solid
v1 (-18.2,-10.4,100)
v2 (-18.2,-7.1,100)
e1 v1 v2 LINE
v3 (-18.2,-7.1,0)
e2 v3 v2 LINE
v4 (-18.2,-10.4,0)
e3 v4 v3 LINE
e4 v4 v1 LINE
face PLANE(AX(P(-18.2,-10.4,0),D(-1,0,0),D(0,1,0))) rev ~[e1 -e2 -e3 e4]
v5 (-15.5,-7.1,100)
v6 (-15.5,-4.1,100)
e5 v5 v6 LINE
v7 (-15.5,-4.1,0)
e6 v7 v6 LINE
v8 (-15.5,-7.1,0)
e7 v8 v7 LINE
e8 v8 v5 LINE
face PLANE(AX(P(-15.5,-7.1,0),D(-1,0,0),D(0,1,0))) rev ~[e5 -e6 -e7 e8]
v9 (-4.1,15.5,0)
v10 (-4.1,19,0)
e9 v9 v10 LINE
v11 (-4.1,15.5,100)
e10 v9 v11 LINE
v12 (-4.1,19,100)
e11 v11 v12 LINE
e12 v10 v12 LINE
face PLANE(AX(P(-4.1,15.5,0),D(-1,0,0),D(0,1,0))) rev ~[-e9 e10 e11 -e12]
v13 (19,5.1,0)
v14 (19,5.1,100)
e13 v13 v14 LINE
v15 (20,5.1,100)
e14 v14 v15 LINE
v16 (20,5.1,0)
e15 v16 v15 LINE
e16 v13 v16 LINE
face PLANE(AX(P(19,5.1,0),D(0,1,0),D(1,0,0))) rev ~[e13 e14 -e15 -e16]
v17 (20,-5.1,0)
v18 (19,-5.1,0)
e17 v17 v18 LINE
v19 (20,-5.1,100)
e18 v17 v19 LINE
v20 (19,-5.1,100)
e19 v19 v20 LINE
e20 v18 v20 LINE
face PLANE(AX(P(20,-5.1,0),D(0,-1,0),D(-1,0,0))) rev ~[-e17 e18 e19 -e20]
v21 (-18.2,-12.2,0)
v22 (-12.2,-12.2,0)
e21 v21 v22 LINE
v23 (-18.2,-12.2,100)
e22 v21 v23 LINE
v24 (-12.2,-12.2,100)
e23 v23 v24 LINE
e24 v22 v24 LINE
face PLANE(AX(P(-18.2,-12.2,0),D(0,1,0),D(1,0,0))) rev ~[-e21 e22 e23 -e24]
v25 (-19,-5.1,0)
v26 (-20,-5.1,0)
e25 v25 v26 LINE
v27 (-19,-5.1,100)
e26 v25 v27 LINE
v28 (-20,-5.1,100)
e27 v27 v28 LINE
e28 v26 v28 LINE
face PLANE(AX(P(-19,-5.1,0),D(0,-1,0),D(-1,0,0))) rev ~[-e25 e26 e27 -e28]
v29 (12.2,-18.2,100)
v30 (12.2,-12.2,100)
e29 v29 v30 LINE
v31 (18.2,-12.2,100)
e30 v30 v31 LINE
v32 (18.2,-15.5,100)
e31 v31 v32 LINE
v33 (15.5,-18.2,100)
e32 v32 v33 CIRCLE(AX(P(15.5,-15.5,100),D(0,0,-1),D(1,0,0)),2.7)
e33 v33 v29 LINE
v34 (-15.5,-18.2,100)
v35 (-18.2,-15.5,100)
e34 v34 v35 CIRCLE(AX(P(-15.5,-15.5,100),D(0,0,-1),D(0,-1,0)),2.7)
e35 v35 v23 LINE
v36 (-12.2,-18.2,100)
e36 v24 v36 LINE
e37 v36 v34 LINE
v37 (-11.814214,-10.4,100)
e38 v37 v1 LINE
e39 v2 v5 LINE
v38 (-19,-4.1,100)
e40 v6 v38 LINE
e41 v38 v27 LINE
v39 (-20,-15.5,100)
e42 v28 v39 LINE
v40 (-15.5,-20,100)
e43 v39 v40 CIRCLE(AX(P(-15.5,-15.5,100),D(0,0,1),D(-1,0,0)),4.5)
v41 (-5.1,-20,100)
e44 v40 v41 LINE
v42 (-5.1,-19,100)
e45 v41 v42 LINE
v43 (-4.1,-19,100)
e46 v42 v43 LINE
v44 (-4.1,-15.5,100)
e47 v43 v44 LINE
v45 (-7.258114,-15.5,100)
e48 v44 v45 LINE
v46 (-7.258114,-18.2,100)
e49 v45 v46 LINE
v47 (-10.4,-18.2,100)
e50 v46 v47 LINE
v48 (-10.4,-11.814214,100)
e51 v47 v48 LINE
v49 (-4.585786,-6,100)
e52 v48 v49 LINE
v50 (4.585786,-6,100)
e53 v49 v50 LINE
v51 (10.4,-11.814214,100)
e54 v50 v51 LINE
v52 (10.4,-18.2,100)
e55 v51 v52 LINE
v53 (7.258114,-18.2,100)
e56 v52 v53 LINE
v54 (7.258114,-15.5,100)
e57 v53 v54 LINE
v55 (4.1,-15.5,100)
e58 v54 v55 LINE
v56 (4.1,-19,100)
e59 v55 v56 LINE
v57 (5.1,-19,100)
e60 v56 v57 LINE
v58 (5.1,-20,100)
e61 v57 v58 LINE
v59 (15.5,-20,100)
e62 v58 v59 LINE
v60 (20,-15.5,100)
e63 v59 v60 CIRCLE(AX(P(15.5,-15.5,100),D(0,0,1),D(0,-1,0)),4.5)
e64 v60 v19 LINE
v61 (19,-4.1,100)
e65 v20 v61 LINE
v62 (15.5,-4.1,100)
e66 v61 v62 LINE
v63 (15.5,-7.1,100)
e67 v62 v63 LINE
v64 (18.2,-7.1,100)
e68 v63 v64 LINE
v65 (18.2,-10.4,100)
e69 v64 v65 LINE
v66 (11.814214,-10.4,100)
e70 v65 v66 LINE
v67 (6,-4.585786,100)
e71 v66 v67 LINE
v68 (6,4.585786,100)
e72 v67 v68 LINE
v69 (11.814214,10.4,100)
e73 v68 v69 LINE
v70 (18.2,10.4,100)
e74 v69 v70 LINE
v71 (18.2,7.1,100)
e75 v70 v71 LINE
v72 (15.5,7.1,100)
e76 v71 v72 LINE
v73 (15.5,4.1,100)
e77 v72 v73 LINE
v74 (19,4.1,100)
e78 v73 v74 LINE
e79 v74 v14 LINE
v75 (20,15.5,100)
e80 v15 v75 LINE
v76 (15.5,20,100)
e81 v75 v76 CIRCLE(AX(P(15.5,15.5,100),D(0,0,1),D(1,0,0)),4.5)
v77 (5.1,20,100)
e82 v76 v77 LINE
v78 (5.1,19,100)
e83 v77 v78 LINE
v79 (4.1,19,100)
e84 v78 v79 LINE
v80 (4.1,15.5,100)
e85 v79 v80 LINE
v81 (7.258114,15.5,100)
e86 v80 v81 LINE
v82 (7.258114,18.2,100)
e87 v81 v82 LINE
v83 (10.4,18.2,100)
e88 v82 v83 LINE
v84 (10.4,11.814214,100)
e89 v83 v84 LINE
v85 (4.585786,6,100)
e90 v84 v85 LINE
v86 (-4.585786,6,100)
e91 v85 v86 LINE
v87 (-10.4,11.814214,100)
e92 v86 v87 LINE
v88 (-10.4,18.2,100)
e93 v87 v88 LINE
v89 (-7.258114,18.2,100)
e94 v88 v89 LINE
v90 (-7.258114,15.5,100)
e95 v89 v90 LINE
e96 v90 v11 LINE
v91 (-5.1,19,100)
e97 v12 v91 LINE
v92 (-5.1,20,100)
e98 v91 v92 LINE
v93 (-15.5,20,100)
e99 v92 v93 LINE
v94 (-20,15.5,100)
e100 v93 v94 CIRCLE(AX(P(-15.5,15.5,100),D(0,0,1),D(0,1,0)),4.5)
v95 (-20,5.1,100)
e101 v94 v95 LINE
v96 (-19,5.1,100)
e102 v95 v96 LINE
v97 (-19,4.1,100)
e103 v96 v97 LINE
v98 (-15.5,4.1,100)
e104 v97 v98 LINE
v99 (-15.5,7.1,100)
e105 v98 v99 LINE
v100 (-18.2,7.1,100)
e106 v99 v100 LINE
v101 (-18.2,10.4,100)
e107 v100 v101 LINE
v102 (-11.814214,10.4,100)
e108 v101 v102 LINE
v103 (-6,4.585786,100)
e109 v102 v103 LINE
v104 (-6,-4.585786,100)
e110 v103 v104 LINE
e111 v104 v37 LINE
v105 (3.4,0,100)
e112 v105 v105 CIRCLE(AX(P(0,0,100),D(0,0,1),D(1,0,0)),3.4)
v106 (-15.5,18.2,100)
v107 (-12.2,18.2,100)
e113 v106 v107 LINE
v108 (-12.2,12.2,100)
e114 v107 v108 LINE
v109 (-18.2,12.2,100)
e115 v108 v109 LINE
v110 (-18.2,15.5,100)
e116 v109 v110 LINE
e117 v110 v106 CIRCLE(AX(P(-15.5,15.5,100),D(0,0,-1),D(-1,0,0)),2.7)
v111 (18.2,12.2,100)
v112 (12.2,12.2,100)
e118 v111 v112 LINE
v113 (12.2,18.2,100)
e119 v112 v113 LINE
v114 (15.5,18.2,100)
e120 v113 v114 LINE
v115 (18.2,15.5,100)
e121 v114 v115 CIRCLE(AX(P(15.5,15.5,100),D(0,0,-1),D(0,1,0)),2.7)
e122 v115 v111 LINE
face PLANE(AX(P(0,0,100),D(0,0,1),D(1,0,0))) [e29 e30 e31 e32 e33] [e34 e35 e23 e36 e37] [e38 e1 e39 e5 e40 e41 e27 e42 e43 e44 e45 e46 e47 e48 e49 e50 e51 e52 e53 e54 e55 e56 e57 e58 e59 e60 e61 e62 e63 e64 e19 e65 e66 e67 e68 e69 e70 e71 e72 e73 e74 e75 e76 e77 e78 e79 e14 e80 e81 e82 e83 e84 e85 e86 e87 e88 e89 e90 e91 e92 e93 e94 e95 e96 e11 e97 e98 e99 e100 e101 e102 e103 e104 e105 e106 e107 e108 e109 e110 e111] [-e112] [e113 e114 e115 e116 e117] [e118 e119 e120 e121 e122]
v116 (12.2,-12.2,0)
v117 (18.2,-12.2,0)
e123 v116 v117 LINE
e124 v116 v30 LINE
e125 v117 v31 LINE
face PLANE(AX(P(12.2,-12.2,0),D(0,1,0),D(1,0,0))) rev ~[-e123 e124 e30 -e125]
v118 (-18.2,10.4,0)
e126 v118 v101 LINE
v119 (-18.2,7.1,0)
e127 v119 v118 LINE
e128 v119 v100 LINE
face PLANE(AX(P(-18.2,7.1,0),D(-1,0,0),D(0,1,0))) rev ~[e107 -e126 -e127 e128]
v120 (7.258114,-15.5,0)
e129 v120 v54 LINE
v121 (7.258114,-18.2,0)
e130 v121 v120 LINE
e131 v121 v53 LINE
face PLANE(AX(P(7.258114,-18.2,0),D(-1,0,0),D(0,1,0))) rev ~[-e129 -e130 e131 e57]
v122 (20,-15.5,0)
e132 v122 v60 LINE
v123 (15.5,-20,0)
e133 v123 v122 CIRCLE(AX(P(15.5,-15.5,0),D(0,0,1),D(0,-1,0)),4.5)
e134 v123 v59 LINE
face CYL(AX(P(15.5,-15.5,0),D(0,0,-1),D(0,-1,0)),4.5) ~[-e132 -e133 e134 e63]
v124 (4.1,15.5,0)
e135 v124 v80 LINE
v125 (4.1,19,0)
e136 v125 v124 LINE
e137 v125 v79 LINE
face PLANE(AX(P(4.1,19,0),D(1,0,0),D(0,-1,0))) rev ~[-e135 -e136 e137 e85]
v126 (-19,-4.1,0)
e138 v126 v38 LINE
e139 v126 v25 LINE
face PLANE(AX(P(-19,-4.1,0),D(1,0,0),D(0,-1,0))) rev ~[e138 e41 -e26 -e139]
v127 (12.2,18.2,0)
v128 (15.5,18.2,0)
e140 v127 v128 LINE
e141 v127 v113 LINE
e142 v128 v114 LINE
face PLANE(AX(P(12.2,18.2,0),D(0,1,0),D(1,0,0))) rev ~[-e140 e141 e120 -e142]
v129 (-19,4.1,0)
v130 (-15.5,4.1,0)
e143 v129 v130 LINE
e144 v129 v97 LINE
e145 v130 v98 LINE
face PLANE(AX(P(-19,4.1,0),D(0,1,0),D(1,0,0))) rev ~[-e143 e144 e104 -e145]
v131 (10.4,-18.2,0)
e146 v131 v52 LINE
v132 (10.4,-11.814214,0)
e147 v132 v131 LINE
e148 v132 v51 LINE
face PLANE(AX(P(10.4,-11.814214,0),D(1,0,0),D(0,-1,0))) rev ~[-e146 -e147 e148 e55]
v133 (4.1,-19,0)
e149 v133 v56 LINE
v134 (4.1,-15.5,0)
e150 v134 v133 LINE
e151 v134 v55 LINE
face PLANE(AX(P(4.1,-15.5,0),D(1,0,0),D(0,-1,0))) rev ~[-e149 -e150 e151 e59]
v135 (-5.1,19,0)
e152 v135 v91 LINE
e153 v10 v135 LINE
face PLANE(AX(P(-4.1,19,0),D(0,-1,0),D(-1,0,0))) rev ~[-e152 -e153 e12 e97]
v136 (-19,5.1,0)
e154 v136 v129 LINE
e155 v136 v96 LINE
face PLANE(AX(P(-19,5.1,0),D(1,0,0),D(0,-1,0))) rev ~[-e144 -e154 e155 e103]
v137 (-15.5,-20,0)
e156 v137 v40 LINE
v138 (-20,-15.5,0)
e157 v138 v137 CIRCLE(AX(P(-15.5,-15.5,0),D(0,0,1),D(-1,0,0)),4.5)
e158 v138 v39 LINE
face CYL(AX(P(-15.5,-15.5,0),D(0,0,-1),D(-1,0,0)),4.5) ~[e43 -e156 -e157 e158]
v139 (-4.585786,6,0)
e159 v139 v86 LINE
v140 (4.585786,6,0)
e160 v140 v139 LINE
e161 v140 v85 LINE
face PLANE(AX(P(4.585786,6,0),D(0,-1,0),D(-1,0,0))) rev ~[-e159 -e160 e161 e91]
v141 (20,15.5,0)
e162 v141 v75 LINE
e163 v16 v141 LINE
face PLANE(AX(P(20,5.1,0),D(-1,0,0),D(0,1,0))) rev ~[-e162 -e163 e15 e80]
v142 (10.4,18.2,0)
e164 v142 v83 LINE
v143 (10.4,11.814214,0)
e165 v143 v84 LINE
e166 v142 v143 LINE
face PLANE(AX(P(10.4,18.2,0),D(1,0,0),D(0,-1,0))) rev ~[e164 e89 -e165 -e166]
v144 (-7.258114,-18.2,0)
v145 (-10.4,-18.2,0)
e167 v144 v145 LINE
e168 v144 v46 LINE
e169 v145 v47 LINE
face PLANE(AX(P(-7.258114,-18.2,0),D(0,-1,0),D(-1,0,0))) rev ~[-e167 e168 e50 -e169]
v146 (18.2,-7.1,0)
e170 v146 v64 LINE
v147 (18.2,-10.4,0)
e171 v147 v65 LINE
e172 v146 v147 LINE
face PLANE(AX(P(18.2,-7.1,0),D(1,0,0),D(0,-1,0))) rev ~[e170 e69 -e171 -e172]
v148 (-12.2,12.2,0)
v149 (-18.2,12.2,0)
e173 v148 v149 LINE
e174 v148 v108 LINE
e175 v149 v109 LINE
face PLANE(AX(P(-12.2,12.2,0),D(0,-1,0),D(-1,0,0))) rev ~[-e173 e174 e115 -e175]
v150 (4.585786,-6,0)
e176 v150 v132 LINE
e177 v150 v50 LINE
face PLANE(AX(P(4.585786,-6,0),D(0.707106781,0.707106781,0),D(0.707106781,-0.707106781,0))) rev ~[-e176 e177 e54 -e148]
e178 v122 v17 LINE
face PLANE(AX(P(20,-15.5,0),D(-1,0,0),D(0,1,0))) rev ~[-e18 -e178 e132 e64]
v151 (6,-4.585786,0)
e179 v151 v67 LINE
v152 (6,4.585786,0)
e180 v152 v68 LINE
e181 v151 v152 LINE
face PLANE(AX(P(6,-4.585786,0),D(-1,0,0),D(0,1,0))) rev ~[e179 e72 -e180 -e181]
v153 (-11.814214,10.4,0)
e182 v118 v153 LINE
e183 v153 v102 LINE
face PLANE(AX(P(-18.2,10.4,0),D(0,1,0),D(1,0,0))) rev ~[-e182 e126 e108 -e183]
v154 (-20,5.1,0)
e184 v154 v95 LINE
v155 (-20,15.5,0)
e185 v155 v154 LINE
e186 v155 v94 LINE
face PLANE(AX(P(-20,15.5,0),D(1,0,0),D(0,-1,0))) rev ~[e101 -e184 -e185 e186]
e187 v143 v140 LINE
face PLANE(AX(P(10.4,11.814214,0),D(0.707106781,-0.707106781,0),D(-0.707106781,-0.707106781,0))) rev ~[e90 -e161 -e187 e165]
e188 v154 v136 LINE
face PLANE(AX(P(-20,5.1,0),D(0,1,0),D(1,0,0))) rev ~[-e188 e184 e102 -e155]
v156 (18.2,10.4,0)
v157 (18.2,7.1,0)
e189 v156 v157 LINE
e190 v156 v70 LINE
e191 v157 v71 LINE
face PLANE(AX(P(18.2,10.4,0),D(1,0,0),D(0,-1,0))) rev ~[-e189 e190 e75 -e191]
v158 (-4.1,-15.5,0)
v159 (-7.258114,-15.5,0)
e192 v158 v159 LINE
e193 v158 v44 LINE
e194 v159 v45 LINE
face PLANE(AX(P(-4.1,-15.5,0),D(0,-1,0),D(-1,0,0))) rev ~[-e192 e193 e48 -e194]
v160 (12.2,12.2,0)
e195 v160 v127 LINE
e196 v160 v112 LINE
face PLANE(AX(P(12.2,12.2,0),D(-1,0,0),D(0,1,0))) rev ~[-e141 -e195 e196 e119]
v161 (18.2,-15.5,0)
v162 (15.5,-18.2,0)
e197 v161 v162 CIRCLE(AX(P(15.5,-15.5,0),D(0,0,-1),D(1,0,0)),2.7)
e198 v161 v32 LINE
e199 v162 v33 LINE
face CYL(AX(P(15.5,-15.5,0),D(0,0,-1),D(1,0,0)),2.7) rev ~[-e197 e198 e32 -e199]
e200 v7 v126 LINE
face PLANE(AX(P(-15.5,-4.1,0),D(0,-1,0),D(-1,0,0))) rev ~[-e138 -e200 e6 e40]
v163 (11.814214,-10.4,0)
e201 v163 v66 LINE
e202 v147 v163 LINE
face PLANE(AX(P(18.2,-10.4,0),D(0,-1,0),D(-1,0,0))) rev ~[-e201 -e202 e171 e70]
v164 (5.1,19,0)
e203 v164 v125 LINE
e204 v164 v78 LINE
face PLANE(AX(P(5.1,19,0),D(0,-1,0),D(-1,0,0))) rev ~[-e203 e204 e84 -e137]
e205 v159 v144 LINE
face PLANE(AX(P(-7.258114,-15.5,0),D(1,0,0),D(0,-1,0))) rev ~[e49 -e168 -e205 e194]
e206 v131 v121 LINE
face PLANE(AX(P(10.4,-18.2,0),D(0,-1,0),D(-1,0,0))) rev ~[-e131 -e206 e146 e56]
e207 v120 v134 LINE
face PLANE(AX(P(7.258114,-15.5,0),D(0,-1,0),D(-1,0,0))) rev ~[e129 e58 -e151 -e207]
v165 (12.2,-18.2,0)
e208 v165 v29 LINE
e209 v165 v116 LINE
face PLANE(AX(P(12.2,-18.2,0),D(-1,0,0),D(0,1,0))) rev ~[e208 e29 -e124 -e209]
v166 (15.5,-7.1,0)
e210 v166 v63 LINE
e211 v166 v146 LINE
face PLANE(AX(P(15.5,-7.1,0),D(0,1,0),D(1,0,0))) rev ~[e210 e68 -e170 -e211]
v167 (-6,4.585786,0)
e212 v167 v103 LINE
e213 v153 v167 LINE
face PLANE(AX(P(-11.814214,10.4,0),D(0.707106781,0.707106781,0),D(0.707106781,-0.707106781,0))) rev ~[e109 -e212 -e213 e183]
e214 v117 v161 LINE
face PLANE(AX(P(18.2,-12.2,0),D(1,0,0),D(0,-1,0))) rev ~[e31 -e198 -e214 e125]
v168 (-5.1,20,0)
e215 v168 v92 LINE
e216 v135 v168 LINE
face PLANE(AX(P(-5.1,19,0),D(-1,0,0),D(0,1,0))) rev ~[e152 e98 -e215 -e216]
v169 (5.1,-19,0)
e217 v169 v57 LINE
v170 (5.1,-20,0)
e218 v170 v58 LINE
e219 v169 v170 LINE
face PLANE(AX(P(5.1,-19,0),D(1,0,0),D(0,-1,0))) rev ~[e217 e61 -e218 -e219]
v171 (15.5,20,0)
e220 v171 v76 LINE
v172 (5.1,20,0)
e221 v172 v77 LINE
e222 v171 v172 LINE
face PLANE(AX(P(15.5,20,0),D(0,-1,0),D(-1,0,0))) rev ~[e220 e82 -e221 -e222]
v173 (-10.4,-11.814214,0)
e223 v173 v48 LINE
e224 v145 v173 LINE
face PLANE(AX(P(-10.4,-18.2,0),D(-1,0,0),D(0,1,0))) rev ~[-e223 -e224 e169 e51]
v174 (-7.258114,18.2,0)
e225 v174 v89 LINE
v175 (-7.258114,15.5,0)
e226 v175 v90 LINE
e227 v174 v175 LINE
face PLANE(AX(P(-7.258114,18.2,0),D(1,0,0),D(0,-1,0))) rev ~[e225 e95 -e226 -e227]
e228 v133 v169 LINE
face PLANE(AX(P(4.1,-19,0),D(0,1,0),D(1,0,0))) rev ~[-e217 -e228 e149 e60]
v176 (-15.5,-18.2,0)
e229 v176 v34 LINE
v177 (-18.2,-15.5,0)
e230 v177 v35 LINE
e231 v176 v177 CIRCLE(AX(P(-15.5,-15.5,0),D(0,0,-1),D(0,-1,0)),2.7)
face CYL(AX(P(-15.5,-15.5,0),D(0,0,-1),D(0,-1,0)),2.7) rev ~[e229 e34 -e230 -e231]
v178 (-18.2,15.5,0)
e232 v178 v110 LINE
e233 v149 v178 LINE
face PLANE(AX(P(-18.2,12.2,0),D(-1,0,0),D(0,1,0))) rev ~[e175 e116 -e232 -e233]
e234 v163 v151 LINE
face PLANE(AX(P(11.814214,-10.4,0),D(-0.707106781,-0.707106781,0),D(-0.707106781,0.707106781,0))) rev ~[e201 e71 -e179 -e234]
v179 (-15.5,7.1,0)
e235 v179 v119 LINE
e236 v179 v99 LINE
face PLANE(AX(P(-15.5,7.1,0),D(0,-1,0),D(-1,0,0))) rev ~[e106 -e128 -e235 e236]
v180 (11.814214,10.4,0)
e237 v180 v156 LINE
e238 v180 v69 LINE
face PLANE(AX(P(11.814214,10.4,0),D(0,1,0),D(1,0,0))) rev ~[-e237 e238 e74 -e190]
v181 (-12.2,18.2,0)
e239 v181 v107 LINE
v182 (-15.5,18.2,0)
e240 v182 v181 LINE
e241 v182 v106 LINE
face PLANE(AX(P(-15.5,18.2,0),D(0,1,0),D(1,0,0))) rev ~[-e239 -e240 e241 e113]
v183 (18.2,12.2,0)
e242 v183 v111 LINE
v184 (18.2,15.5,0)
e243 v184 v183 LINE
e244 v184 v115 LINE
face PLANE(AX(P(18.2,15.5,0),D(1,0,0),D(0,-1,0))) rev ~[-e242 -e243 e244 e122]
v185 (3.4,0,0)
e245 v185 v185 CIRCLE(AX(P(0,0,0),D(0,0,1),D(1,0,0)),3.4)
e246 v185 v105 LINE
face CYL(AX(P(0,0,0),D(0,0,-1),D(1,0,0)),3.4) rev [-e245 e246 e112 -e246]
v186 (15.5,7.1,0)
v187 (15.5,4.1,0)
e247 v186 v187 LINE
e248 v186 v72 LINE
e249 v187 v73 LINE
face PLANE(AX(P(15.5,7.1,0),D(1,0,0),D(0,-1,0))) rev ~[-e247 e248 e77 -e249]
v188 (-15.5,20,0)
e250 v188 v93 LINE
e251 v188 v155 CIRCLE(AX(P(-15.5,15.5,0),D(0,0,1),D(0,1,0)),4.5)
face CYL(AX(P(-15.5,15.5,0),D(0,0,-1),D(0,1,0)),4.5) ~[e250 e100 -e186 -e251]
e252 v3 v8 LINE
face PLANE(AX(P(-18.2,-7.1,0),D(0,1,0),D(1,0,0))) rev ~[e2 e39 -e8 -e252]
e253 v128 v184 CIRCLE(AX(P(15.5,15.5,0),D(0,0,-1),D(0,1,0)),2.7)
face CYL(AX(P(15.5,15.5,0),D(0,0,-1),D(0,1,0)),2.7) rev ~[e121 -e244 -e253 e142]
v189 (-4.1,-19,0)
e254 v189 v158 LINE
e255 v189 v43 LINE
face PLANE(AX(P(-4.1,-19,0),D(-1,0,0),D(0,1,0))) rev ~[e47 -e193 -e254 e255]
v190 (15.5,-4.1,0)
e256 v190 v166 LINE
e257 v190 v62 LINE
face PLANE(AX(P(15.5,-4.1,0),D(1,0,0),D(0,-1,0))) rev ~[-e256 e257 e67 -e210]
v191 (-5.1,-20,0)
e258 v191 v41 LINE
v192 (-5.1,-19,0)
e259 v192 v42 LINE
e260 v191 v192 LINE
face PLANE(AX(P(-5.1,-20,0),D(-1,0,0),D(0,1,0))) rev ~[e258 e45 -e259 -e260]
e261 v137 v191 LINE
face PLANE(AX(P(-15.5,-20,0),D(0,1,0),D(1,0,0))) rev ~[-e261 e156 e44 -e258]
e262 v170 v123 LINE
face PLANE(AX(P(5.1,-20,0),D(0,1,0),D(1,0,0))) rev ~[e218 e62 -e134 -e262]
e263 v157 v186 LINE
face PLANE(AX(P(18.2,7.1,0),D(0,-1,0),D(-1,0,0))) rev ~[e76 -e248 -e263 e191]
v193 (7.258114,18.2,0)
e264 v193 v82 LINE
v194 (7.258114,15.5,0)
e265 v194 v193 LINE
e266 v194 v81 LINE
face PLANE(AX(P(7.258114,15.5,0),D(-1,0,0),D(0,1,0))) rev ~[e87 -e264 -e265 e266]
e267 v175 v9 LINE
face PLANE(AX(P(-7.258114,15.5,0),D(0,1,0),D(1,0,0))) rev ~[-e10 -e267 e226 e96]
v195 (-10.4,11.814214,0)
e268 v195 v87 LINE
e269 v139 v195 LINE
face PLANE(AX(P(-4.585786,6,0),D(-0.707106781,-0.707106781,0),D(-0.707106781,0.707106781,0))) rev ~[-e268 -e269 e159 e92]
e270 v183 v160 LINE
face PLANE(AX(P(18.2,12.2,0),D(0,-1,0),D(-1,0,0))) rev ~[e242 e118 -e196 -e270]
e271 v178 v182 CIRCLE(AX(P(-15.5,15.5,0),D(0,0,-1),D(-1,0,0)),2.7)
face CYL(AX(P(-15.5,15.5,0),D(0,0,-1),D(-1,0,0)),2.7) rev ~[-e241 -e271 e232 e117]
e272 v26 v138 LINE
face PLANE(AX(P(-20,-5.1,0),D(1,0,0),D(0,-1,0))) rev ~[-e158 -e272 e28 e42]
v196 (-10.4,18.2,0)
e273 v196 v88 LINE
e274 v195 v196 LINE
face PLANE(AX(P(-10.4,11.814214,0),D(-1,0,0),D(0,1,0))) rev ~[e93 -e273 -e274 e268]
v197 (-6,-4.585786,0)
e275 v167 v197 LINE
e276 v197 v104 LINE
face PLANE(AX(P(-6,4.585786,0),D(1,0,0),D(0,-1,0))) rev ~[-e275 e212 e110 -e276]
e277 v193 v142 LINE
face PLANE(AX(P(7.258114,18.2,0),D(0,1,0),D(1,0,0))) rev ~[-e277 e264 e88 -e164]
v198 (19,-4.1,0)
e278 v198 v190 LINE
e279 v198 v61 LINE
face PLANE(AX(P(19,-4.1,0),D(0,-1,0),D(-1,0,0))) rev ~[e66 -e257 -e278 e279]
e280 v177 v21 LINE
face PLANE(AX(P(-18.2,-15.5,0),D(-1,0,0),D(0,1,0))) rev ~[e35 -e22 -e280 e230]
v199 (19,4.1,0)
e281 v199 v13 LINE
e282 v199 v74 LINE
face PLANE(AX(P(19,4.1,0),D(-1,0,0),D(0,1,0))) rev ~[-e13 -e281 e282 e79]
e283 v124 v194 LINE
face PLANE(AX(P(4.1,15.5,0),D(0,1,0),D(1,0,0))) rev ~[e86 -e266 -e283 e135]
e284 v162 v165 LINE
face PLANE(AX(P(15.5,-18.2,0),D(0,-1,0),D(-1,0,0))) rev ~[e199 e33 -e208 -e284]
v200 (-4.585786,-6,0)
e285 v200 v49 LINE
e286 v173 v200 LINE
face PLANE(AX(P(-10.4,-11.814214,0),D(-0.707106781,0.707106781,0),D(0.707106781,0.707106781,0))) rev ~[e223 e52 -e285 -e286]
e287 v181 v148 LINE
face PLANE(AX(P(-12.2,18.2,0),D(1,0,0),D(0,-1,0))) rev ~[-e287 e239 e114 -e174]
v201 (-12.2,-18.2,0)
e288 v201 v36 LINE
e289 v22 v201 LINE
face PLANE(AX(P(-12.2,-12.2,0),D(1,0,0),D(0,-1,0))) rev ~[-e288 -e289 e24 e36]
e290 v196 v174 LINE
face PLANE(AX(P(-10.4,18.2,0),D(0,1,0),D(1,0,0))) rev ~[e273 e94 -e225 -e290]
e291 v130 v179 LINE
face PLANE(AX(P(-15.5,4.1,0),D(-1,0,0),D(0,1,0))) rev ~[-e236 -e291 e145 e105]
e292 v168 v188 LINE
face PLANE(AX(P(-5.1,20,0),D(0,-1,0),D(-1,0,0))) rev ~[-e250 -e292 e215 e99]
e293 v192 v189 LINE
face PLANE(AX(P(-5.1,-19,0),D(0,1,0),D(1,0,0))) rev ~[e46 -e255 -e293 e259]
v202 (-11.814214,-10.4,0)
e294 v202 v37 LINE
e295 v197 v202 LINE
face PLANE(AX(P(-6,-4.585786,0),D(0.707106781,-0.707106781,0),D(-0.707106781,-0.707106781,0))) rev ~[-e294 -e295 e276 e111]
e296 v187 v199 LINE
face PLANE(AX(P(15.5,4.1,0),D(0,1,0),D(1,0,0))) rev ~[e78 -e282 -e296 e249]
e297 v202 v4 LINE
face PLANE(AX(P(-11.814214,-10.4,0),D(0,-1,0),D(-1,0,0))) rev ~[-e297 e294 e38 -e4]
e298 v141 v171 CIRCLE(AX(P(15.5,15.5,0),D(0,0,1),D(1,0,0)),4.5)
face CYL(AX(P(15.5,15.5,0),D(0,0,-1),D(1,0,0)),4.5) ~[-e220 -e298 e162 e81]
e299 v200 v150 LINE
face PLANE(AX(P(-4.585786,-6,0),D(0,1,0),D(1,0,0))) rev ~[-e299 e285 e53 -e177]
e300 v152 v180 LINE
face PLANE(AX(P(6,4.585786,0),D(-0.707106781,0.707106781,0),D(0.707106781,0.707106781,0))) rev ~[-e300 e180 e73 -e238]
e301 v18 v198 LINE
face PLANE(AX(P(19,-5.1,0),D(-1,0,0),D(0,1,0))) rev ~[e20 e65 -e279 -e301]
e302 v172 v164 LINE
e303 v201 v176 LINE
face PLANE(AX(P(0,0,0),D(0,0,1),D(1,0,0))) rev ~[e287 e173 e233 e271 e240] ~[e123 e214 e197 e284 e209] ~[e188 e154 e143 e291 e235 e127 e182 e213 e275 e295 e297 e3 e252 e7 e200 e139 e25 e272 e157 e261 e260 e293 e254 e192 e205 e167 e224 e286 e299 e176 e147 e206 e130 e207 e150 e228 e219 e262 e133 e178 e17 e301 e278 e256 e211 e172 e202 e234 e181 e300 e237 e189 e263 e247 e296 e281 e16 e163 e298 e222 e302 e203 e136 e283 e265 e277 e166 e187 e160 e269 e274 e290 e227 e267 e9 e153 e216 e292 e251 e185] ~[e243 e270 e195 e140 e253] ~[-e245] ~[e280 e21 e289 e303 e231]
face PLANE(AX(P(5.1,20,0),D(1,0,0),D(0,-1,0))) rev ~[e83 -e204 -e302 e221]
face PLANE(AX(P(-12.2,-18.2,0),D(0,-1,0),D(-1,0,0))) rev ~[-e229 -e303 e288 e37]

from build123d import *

# Parameters (mm, degrees)
SKETCH3_R           = 3.4
BOSS_EXTRUDE1_DEPTH = 100


with BuildPart() as part:
    # Sketch3 → Boss-Extrude1 (new body)
    with BuildSketch(Plane.XY):
        with BuildLine():
            Line((-11.814213562, 10.4), (-6, 4.585786438))
            Line((-6, 4.585786438), (-6, -4.585786438))
            Line((-6, -4.585786438), (-11.814213562, -10.4))
            Line((-11.814213562, -10.4), (-18.2, -10.4))
            Line((-18.2, -10.4), (-18.2, -7.1))
            Line((-18.2, -7.1), (-15.5, -7.1))
            Line((-15.5, -7.1), (-15.5, -4.1))
            Line((-15.5, -4.1), (-19, -4.1))
            Line((-19, -4.1), (-19, -5.1))
            Line((-19, -5.1), (-20, -5.1))
            Line((-20, -5.1), (-20, -15.5))
            ThreePointArc((-20, -15.5), (-18.681980515, -18.681980515), (-15.5, -20))
            Line((-15.5, -20), (-5.1, -20))
            Line((-5.1, -20), (-5.1, -19))
            Line((-5.1, -19), (-4.1, -19))
            Line((-4.1, -19), (-4.1, -15.5))
            Line((-4.1, -15.5), (-7.258114106, -15.5))
            Line((-7.258114106, -15.5), (-7.258114106, -18.2))
            Line((-7.258114106, -18.2), (-10.4, -18.2))
            Line((-10.4, -18.2), (-10.4, -11.814213562))
            Line((-10.4, -11.814213562), (-4.585786438, -6))
            Line((-4.585786438, -6), (4.585786438, -6))
            Line((4.585786438, -6), (10.4, -11.814213562))
            Line((10.4, -11.814213562), (10.4, -18.2))
            Line((10.4, -18.2), (7.258114106, -18.2))
            Line((7.258114106, -18.2), (7.258114106, -15.5))
            Line((7.258114106, -15.5), (4.1, -15.5))
            Line((4.1, -15.5), (4.1, -19))
            Line((4.1, -19), (5.1, -19))
            Line((5.1, -19), (5.1, -20))
            Line((5.1, -20), (15.5, -20))
            ThreePointArc((15.5, -20), (18.681980515, -18.681980515), (20, -15.5))
            Line((20, -15.5), (20, -5.1))
            Line((20, -5.1), (19, -5.1))
            Line((19, -5.1), (19, -4.1))
            Line((19, -4.1), (15.5, -4.1))
            Line((15.5, -4.1), (15.5, -7.1))
            Line((15.5, -7.1), (18.2, -7.1))
            Line((18.2, -7.1), (18.2, -10.4))
            Line((18.2, -10.4), (11.814213562, -10.4))
            Line((11.814213562, -10.4), (6, -4.585786438))
            Line((6, -4.585786438), (6, 4.585786438))
            Line((6, 4.585786438), (11.814213562, 10.4))
            Line((11.814213562, 10.4), (18.2, 10.4))
            Line((18.2, 10.4), (18.2, 7.1))
            Line((18.2, 7.1), (15.5, 7.1))
            Line((15.5, 7.1), (15.5, 4.1))
            Line((15.5, 4.1), (19, 4.1))
            Line((19, 4.1), (19, 5.1))
            Line((19, 5.1), (20, 5.1))
            Line((20, 5.1), (20, 15.5))
            ThreePointArc((20, 15.5), (18.681980515, 18.681980515), (15.5, 20))
            Line((15.5, 20), (5.1, 20))
            Line((5.1, 20), (5.1, 19))
            Line((5.1, 19), (4.1, 19))
            Line((4.1, 19), (4.1, 15.5))
            Line((4.1, 15.5), (7.258114106, 15.5))
            Line((7.258114106, 15.5), (7.258114106, 18.2))
            Line((7.258114106, 18.2), (10.4, 18.2))
            Line((10.4, 18.2), (10.4, 11.814213562))
            Line((10.4, 11.814213562), (4.585786438, 6))
            Line((4.585786438, 6), (-4.585786438, 6))
            Line((-4.585786438, 6), (-10.4, 11.814213562))
            Line((-10.4, 11.814213562), (-10.4, 18.2))
            Line((-10.4, 18.2), (-7.258114106, 18.2))
            Line((-7.258114106, 18.2), (-7.258114106, 15.5))
            Line((-7.258114106, 15.5), (-4.1, 15.5))
            Line((-4.1, 15.5), (-4.1, 19))
            Line((-4.1, 19), (-5.1, 19))
            Line((-5.1, 19), (-5.1, 20))
            Line((-5.1, 20), (-15.5, 20))
            ThreePointArc((-15.5, 20), (-18.681980515, 18.681980515), (-20, 15.5))
            Line((-20, 15.5), (-20, 5.1))
            Line((-20, 5.1), (-19, 5.1))
            Line((-19, 5.1), (-19, 4.1))
            Line((-19, 4.1), (-15.5, 4.1))
            Line((-15.5, 4.1), (-15.5, 7.1))
            Line((-15.5, 7.1), (-18.2, 7.1))
            Line((-18.2, 7.1), (-18.2, 10.4))
            Line((-18.2, 10.4), (-11.814213562, 10.4))
        make_face()
        with BuildLine():
            Line((-18.2, -15.5), (-18.2, -12.2))
            Line((-18.2, -12.2), (-12.2, -12.2))
            Line((-12.2, -12.2), (-12.2, -18.2))
            Line((-12.2, -18.2), (-15.5, -18.2))
            ThreePointArc((-15.5, -18.2), (-17.409188309, -17.409188309), (-18.2, -15.5))
        make_face(mode=Mode.SUBTRACT)
        Circle(SKETCH3_R, mode=Mode.SUBTRACT)
        with BuildLine():
            Line((-18.2, 12.2), (-18.2, 15.5))
            ThreePointArc((-18.2, 15.5), (-17.409188309, 17.409188309), (-15.5, 18.2))
            Line((-15.5, 18.2), (-12.2, 18.2))
            Line((-12.2, 18.2), (-12.2, 12.2))
            Line((-12.2, 12.2), (-18.2, 12.2))
        make_face(mode=Mode.SUBTRACT)
        with BuildLine():
            Line((18.2, 15.5), (18.2, 12.2))
            Line((18.2, 12.2), (12.2, 12.2))
            Line((12.2, 12.2), (12.2, 18.2))
            Line((12.2, 18.2), (15.5, 18.2))
            ThreePointArc((15.5, 18.2), (17.409188309, 17.409188309), (18.2, 15.5))
        make_face(mode=Mode.SUBTRACT)
        with BuildLine():
            Line((12.2, -18.2), (12.2, -12.2))
            Line((12.2, -12.2), (18.2, -12.2))
            Line((18.2, -12.2), (18.2, -15.5))
            ThreePointArc((18.2, -15.5), (17.409188309, -17.409188309), (15.5, -18.2))
            Line((15.5, -18.2), (12.2, -18.2))
        make_face(mode=Mode.SUBTRACT)
    extrude(amount=BOSS_EXTRUDE1_DEPTH)


solid = part.part
